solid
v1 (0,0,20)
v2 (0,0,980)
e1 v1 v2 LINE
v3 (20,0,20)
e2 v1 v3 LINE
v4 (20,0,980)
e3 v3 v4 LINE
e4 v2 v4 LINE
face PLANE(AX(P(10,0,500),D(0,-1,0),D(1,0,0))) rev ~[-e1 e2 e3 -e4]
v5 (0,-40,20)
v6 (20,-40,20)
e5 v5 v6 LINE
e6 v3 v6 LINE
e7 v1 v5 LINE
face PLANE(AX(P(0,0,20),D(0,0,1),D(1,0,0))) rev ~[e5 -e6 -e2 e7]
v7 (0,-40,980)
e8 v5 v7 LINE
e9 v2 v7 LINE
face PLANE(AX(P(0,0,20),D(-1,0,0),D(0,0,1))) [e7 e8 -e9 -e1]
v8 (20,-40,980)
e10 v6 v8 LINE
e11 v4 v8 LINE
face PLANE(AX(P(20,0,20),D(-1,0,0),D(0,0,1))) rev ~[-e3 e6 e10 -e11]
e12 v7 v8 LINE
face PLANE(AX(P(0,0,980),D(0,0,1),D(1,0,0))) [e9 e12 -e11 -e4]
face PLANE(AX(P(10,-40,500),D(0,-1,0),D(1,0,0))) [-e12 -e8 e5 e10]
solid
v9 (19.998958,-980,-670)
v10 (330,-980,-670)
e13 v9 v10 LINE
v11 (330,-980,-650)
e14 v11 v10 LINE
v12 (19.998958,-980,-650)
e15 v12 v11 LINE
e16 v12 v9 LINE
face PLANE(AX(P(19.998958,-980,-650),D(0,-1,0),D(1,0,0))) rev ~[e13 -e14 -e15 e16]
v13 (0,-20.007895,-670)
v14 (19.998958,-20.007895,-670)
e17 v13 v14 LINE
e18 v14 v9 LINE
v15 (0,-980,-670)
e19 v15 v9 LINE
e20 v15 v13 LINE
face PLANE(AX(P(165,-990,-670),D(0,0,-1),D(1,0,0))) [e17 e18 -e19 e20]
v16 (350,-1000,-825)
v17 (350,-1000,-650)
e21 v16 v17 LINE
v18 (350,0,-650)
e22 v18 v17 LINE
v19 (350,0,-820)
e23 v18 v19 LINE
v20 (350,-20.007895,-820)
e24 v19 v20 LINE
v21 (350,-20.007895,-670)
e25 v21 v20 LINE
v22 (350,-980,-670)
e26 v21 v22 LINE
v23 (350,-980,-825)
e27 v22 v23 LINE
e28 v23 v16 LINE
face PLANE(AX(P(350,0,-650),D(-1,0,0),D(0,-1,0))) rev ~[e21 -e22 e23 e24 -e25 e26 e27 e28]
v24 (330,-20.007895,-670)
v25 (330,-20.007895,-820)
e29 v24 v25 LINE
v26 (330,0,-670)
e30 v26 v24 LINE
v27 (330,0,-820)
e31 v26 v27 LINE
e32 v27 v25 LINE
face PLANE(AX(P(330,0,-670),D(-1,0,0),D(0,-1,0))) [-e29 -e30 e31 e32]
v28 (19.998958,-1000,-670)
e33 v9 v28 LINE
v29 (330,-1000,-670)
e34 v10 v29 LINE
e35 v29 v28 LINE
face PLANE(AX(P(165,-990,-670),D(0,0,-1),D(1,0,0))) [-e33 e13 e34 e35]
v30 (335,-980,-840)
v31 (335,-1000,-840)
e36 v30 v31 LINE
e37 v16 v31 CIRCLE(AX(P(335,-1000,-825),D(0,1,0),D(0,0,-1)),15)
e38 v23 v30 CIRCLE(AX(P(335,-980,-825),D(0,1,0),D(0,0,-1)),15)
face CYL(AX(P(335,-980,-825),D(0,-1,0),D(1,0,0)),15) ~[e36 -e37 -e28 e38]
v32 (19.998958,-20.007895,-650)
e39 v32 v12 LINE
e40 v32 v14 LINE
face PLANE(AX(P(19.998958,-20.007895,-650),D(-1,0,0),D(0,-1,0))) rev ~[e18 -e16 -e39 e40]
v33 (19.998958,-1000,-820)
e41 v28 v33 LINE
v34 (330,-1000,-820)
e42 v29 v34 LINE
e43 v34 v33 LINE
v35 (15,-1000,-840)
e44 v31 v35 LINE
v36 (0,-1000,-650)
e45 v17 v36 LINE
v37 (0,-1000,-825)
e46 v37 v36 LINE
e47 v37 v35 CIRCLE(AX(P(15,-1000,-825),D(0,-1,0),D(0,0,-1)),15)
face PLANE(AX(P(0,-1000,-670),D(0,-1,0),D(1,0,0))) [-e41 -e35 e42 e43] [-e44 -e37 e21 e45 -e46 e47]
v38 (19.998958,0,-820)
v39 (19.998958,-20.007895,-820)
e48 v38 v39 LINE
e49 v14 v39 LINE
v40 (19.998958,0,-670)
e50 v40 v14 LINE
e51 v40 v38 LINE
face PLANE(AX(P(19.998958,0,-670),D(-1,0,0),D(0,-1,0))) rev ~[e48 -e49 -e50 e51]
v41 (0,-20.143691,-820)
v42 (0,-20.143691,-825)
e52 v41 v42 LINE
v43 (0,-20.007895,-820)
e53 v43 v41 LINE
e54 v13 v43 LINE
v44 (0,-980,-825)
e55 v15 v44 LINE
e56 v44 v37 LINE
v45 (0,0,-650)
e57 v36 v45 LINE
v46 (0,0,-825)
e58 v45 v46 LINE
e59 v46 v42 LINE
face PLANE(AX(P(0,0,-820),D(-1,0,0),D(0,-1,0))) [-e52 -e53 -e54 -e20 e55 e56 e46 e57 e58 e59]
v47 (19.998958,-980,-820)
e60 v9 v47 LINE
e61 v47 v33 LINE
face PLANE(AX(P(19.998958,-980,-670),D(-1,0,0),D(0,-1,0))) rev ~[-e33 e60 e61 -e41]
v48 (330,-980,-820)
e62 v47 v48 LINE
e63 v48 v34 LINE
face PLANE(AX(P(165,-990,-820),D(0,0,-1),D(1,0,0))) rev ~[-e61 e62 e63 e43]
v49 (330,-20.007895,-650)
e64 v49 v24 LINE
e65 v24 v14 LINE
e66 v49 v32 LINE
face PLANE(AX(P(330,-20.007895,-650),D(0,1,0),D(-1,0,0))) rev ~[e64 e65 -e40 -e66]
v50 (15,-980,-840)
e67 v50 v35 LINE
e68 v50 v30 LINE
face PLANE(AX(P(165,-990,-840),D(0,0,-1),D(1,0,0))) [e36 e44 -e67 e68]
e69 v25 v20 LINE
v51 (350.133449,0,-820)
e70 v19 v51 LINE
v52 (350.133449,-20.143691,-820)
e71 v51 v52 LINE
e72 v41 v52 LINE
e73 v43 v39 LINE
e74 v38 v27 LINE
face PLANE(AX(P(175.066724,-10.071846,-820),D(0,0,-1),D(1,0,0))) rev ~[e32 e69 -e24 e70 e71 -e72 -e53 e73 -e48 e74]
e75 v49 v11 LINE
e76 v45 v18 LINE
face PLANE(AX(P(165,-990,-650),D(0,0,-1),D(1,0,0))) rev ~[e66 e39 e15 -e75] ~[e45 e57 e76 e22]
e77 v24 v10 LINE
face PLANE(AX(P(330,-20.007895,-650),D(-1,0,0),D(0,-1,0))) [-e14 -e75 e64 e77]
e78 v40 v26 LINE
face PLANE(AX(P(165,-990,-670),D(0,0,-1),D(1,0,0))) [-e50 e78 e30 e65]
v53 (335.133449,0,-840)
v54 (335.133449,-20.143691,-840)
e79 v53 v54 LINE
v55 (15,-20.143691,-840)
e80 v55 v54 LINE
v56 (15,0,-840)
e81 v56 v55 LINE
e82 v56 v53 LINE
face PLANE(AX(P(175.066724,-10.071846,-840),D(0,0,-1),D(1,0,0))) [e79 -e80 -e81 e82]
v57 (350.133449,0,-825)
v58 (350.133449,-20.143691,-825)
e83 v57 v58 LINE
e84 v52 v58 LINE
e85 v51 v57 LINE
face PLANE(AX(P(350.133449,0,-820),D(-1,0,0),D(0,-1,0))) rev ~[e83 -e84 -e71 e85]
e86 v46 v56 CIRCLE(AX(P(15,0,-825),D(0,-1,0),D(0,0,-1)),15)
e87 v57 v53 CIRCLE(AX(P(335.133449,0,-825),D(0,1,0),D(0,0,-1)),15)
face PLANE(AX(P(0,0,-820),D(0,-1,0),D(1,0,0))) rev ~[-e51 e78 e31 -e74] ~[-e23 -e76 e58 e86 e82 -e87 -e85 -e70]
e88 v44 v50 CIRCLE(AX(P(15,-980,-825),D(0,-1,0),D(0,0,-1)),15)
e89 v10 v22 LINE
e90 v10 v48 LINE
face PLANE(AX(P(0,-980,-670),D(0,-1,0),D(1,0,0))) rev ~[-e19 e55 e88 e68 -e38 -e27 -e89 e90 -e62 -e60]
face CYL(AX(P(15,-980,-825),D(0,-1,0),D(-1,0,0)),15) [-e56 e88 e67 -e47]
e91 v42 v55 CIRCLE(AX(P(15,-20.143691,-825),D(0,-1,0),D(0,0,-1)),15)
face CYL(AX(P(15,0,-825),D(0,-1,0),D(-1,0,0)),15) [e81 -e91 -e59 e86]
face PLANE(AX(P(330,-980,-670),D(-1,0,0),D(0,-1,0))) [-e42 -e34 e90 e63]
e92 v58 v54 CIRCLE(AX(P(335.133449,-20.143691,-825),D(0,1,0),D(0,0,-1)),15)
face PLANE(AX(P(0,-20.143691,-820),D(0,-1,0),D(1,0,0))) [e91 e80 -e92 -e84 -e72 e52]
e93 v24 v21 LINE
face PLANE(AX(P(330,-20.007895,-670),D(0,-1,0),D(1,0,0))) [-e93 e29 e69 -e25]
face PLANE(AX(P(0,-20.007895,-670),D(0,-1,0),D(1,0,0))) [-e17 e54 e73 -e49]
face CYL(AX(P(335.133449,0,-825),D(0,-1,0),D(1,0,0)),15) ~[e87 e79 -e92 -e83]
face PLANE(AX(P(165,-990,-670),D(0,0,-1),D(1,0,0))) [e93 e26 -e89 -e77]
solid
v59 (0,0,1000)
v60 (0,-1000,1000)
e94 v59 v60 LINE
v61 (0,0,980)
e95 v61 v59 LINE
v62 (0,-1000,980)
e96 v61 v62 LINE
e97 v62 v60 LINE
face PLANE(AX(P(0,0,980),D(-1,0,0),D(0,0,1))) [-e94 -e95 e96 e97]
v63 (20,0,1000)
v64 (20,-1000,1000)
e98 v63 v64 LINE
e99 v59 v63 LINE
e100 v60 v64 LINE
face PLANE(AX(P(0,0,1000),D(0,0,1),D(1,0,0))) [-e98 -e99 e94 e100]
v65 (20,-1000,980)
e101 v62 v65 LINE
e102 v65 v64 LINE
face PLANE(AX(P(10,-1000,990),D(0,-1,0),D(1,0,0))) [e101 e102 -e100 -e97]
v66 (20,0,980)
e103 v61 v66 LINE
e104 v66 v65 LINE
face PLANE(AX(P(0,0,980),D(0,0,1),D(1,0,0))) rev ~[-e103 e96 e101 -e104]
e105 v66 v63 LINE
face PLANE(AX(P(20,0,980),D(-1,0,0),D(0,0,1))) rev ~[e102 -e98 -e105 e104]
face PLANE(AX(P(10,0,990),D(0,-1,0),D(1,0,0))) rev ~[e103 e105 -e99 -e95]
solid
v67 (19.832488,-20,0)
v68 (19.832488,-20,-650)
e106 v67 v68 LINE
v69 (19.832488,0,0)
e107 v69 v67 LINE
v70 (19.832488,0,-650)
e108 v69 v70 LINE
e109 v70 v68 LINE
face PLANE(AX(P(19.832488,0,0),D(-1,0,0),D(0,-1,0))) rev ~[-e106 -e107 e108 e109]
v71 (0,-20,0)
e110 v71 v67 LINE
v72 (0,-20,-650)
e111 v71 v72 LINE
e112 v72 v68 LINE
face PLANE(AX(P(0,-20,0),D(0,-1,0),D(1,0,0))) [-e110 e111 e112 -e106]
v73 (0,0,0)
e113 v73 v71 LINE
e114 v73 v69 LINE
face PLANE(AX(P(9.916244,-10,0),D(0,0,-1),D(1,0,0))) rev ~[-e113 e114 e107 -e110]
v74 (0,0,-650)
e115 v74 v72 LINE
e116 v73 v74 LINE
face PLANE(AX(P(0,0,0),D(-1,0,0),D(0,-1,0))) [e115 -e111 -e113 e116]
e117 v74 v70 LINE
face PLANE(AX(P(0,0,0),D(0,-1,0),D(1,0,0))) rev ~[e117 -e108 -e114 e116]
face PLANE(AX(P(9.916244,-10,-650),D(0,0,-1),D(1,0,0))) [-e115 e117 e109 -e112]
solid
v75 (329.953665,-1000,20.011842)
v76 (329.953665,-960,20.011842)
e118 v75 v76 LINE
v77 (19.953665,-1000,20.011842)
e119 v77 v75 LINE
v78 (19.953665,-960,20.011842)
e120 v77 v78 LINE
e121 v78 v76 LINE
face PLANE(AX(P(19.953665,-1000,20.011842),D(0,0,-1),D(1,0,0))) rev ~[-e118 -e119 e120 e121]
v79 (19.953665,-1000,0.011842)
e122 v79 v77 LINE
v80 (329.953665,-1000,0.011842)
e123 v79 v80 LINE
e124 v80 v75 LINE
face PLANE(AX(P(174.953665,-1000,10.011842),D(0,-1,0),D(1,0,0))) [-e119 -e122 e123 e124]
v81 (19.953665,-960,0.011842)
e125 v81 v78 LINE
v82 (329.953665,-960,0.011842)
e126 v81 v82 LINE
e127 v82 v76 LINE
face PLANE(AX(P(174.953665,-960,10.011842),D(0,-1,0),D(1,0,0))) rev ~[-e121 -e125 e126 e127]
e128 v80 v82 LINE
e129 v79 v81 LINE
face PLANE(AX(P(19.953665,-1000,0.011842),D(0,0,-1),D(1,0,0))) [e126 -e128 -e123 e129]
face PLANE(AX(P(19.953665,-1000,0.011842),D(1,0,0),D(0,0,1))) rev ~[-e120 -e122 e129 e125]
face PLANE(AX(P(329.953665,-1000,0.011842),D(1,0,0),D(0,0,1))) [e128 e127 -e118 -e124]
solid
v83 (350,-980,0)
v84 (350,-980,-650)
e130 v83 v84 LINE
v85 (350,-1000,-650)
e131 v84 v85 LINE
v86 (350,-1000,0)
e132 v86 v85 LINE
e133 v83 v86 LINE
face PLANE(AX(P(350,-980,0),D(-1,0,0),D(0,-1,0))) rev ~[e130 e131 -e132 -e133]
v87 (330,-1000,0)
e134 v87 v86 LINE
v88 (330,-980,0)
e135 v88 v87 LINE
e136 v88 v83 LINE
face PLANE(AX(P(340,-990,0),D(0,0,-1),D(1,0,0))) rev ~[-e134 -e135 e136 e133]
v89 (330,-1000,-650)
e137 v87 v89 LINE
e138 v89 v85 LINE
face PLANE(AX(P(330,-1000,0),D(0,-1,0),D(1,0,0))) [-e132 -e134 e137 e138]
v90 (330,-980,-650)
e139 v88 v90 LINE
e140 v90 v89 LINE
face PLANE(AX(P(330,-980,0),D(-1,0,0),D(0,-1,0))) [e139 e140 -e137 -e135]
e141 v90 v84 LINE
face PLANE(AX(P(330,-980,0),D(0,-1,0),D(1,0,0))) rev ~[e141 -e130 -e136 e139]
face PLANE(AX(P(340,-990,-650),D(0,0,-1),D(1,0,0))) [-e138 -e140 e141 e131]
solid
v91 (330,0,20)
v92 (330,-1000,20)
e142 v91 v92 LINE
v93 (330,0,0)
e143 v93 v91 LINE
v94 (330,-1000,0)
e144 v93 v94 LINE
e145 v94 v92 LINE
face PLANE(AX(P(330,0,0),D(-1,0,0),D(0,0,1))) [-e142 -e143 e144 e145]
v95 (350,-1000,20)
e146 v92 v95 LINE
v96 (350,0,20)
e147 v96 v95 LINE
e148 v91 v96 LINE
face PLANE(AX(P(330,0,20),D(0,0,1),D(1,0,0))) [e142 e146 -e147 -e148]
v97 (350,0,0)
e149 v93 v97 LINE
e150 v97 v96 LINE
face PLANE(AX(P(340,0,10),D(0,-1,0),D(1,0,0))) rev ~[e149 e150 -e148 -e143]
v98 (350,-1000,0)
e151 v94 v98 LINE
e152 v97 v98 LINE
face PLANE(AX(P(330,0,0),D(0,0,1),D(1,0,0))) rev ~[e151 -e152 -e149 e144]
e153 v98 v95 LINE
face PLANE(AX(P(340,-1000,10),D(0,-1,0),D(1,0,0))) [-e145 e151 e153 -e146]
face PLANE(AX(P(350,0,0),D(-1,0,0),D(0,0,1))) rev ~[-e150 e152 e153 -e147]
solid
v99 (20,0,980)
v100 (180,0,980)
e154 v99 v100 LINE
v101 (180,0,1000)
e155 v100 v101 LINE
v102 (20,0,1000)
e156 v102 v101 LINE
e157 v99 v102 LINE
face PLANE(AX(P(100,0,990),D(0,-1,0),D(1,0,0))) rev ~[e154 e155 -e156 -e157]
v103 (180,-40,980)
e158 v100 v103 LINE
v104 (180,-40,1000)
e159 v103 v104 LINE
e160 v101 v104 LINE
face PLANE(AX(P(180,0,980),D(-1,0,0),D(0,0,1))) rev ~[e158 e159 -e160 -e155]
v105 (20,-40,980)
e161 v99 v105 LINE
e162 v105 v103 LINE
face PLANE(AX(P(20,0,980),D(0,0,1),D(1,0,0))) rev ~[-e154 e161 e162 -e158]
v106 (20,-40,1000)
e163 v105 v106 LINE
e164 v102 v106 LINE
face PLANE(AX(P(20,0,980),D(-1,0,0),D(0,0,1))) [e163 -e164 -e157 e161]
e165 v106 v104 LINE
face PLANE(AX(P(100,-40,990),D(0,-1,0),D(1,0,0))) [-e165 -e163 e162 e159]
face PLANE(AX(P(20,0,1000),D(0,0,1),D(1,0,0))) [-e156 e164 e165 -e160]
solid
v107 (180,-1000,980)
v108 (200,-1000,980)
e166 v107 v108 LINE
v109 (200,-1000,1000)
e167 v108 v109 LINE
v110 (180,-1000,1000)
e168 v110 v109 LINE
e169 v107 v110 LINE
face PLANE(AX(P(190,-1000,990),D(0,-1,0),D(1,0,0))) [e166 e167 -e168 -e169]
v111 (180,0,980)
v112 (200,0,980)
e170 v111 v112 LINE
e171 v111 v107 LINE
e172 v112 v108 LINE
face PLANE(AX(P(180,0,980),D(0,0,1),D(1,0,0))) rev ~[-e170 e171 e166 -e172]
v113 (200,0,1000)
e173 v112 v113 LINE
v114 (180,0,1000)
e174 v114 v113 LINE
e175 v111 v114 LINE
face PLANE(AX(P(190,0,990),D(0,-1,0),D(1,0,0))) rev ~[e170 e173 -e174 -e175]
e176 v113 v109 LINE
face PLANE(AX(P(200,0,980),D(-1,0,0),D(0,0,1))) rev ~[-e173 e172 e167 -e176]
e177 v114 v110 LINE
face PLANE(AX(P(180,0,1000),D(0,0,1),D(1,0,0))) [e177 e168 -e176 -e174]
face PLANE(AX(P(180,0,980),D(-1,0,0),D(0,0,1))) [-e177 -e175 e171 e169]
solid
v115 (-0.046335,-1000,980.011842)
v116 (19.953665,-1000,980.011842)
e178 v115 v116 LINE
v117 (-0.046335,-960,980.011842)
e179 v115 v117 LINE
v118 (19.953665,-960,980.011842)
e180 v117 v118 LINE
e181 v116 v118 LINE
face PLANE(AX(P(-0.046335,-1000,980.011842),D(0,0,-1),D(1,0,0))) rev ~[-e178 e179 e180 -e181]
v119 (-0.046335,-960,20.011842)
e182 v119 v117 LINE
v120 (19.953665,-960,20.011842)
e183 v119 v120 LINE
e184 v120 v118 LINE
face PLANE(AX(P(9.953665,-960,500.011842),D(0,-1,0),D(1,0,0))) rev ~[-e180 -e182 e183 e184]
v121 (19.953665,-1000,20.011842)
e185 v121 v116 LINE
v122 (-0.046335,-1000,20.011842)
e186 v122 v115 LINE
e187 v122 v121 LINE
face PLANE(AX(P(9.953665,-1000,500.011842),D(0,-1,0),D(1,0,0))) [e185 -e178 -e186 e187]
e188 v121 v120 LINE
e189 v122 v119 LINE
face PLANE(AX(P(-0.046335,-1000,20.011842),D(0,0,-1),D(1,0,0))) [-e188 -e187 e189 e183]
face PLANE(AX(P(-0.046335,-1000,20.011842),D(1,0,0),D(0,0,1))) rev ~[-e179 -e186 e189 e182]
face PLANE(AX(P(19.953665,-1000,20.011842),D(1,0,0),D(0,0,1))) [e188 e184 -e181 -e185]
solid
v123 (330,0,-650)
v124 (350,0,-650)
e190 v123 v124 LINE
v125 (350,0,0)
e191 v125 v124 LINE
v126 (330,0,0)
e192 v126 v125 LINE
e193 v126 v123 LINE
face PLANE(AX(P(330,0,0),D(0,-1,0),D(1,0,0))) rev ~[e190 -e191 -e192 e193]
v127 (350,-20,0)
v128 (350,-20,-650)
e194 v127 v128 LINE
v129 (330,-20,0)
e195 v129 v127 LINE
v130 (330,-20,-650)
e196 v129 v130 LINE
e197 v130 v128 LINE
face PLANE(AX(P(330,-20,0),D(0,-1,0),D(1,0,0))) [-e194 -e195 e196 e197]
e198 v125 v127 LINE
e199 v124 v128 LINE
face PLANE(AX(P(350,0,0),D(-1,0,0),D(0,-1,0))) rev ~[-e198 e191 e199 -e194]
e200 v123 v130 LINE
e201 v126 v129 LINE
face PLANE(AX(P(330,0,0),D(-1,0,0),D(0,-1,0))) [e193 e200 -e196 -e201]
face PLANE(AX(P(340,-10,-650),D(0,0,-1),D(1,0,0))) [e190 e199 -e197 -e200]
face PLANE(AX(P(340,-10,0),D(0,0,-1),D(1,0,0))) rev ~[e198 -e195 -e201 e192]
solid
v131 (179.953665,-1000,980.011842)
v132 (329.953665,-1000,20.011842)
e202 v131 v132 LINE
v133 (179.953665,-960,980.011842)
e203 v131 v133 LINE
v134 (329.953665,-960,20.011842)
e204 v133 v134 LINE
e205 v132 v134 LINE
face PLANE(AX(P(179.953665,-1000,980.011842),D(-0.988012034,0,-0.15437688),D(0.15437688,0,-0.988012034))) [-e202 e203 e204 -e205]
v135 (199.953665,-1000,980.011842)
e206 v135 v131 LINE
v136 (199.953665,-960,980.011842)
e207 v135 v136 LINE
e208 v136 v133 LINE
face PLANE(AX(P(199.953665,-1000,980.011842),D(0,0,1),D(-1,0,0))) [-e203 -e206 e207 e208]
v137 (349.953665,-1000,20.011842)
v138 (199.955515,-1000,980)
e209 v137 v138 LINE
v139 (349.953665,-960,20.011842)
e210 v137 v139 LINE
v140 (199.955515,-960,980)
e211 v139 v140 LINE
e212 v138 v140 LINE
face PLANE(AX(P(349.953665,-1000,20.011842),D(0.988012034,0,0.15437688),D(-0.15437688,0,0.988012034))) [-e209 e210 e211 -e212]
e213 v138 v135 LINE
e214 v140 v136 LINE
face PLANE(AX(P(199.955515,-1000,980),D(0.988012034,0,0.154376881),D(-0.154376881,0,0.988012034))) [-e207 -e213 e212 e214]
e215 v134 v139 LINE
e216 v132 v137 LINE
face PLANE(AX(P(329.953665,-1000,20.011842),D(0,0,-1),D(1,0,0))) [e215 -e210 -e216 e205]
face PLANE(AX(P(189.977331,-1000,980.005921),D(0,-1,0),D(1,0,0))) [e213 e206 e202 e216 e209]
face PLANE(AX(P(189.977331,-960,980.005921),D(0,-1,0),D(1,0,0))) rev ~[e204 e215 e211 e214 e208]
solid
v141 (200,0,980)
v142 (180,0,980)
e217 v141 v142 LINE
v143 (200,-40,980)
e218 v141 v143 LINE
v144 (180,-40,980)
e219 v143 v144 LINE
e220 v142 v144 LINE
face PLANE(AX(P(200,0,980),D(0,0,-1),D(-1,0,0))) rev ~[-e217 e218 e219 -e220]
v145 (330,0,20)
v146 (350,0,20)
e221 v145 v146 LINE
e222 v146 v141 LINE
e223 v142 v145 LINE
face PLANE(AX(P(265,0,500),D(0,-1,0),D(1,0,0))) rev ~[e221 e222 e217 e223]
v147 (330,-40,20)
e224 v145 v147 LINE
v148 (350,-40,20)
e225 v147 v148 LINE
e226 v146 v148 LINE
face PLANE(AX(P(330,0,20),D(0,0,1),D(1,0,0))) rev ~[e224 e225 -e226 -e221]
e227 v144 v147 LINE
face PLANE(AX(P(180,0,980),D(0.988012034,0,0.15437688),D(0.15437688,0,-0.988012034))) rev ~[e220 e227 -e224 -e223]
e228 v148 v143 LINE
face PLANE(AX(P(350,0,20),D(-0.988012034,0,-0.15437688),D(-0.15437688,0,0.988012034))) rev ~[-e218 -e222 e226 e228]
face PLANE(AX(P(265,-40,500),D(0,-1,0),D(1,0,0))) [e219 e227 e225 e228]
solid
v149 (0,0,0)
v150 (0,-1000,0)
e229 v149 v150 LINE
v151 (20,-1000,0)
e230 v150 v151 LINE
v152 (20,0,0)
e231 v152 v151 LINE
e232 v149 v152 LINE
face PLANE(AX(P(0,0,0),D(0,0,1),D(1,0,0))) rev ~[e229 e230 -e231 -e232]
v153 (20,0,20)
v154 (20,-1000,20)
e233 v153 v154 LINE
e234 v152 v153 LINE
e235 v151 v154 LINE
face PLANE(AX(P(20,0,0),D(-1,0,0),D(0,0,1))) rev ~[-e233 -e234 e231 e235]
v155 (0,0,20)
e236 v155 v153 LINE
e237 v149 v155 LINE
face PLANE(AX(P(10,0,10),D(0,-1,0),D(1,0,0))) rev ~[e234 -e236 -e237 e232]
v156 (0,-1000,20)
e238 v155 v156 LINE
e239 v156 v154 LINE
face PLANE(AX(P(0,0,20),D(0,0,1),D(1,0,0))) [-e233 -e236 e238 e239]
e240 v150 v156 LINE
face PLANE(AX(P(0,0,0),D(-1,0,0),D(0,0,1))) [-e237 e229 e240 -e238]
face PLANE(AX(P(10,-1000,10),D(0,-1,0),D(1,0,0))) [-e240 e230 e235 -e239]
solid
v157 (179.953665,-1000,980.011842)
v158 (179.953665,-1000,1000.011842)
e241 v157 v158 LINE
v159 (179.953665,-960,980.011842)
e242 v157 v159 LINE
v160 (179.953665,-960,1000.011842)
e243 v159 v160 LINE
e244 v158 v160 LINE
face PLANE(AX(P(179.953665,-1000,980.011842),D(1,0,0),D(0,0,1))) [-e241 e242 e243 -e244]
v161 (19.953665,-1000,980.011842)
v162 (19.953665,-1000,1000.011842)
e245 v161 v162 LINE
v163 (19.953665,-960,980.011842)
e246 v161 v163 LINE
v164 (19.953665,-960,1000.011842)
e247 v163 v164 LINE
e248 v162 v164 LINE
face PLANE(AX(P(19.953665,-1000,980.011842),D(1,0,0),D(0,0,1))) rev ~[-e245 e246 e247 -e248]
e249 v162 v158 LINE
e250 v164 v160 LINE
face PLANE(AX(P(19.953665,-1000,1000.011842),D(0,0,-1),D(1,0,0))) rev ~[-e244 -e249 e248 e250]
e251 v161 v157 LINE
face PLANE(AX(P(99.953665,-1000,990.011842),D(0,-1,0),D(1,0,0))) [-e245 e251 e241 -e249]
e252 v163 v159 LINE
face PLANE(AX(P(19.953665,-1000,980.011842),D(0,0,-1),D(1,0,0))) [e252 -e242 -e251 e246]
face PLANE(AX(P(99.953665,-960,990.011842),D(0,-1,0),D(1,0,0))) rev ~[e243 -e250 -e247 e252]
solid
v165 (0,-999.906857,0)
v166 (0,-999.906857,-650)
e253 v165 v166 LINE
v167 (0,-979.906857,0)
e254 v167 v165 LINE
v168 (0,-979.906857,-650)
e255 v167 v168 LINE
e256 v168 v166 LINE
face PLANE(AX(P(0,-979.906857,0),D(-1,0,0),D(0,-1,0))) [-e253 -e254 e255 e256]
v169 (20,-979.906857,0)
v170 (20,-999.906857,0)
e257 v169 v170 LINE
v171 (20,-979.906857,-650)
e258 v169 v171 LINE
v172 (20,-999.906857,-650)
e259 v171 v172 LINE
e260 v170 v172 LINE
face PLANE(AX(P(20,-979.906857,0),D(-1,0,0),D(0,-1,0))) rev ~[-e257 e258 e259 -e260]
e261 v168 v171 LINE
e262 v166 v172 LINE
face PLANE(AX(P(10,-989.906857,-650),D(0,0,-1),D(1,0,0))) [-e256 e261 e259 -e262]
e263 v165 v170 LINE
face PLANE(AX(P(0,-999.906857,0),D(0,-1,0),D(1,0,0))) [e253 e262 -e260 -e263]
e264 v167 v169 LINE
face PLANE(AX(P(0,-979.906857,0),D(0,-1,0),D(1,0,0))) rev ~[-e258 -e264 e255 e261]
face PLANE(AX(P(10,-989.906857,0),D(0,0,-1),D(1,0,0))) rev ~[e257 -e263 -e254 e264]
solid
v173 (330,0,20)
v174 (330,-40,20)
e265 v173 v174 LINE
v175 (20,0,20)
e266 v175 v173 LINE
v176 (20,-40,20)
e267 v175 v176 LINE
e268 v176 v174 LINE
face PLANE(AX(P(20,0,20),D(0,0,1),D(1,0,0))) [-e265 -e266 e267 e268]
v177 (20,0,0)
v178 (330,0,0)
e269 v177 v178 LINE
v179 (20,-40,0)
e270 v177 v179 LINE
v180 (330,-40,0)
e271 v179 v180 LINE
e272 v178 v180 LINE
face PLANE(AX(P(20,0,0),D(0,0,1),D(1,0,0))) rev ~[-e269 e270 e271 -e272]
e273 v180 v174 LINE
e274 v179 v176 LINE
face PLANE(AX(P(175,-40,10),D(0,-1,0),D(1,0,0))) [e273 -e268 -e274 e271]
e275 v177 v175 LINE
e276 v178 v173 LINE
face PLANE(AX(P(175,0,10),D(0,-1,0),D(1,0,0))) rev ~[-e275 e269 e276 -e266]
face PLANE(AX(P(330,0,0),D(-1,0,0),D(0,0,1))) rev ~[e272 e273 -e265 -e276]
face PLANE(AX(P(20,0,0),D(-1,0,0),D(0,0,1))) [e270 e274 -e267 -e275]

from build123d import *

# Parameters (mm, degrees)
F0_W      = 20
F0_H      = 20
F1_DEPTH  = 1000
F0_W_2    = 160
F3_DEPTH  = 40
F0_H_2    = 960
F0_W_3    = 310
F2_W      = 20
F2_H      = 960
F4_DEPTH  = 40
F2_W_2    = 160
F2_H_2    = 20
F2_W_3    = 310
F5_W      = 20
F5_H      = 20
F6_DEPTH  = 650
F5_W_2    = 19.8324881494
F7_W      = 20
F7_H      = 20
F7_H_2    = 959.9921046942
F7_W_2    = 19.9989583343
F8_DEPTH  = 20
F9_W      = 19.9989583343
F9_H      = 20
F9_W_2    = 20
F9_H_2    = 20.0078953058
F10_DEPTH = 150
F11_W     = 350.1334488392
F11_H     = 20.1436914504
F11_W_2   = 330
F11_H_2   = 20
F11_W_3   = 20
F12_DEPTH = 20
F13_R     = 15


with BuildPart() as f1:
    # F0 (on Front) → F1 (new body)
    with BuildSketch(Plane.XZ):
        with Locations((190, 990)):
            Rectangle(F0_W, F0_H)
    extrude(amount=F1_DEPTH)


with BuildPart() as f1b:
    # F0 (on Front) → F1, piece 2 (new body)
    with BuildSketch(Plane.XZ):
        with Locations((10, 990)):
            Rectangle(F0_W, F0_H)
    extrude(amount=F1_DEPTH)


with BuildPart() as f1c:
    # F0 (on Front) → F1, piece 3 (new body)
    with BuildSketch(Plane.XZ):
        with Locations((10, 10)):
            Rectangle(F0_W, F0_H)
    extrude(amount=F1_DEPTH)


with BuildPart() as f1d:
    # F0 (on Front) → F1, piece 4 (new body)
    with BuildSketch(Plane.XZ):
        with Locations((340, 10)):
            Rectangle(F0_W, F0_H)
    extrude(amount=F1_DEPTH)


with BuildPart() as f3:
    # F0 (on Front) → F3 (new body)
    with BuildSketch(Plane.XZ):
        with Locations((100, 990)):
            Rectangle(F0_W_2, F0_H)
    extrude(amount=F3_DEPTH)


with BuildPart() as f3b:
    # F0 (on Front) → F3, piece 2 (new body)
    with BuildSketch(Plane.XZ):
        Polygon((180, 980), (330, 20), (350, 20), (200, 980), align=None)
    extrude(amount=F3_DEPTH)


with BuildPart() as f3c:
    # F0 (on Front) → F3, piece 3 (new body)
    with BuildSketch(Plane.XZ):
        with Locations((10, 500)):
            Rectangle(F0_W, F0_H_2)
    extrude(amount=F3_DEPTH)


with BuildPart() as f3d:
    # F0 (on Front) → F3, piece 4 (new body)
    with BuildSketch(Plane.XZ):
        with Locations((175, 10)):
            Rectangle(F0_W_3, F0_H)
    extrude(amount=F3_DEPTH)


with BuildPart() as f4:
    # F2 (on face) → F4 (new body)
    with BuildSketch(Plane.XZ.offset(1000)):
        with Locations((9.9536648015, 500.0118422508)):
            Rectangle(F2_W, F2_H)
    extrude(amount=-F4_DEPTH)


with BuildPart() as f4b:
    # F2 (on face) → F4, piece 2 (new body)
    with BuildSketch(Plane.XZ.offset(1000)):
        with Locations((99.9536648015, 990.0118422508)):
            Rectangle(F2_W_2, F2_H_2)
    extrude(amount=-F4_DEPTH)


with BuildPart() as f4c:
    # F2 (on face) → F4, piece 3 (new body)
    with BuildSketch(Plane.XZ.offset(1000)):
        Polygon((180, 980), (199.9555151532, 980), (199.9536648015, 980.0118422508), (180, 980.0118422508), align=None)
        Polygon((179.9536648015, 980.0118422508), (329.9536648015, 20.0118422508), (349.9536648015, 20.0118422508), (199.9555151532, 980), (180, 980), (180, 980.0118422508), align=None)
    extrude(amount=-F4_DEPTH)


with BuildPart() as f4d:
    # F2 (on face) → F4, piece 4 (new body)
    with BuildSketch(Plane.XZ.offset(1000)):
        with Locations((174.9536648015, 10.0118422508)):
            Rectangle(F2_W_3, F2_H_2)
    extrude(amount=-F4_DEPTH)


with BuildPart() as f6:
    # F5 (on face) → F6 (new body)
    with BuildSketch(Plane(origin=(0, 0, 0), x_dir=(1, 0, 0), z_dir=(0, 0, -1))):
        with Locations((10, 989.9068570137)):
            Rectangle(F5_W, F5_H)
    extrude(amount=F6_DEPTH)


with BuildPart() as f6b:
    # F5 (on face) → F6, piece 2 (new body)
    with BuildSketch(Plane(origin=(0, 0, 0), x_dir=(1, 0, 0), z_dir=(0, 0, -1))):
        with Locations((340, 990)):
            Rectangle(F5_W, F5_H)
    extrude(amount=F6_DEPTH)


with BuildPart() as f6c:
    # F5 (on face) → F6, piece 3 (new body)
    with BuildSketch(Plane(origin=(0, 0, 0), x_dir=(1, 0, 0), z_dir=(0, 0, -1))):
        with Locations((340, 10)):
            Rectangle(F5_W, F5_H)
    extrude(amount=F6_DEPTH)


with BuildPart() as f6d:
    # F5 (on face) → F6, piece 4 (new body)
    with BuildSketch(Plane(origin=(0, 0, 0), x_dir=(1, 0, 0), z_dir=(0, 0, -1))):
        with Locations((9.9162440747, 10)):
            Rectangle(F5_W_2, F5_H)
    extrude(amount=F6_DEPTH)


with BuildPart() as f8:
    # F7 (on face) → F8 (new body)
    with BuildSketch(Plane(origin=(0, 0, -650), x_dir=(1, 0, 0), z_dir=(0, 0, -1))):
        Polygon((330, 980), (330, 1000), (0, 1000), (0, 980), (19.9989583343, 980), align=None)
        with Locations((340, 990)):
            Rectangle(F7_W, F7_H)
        with Locations((340, 500.0039476529)):
            Rectangle(F7_W, F7_H_2)
        with Locations((9.9994791672, 500.0039476529)):
            Rectangle(F7_W_2, F7_H_2)
        Polygon((350, 0), (350, 20.0078953058), (330, 20.0078953058), (19.9989583343, 20.0078953058), (0, 20.0078953058), (0, 0), align=None)
    extrude(amount=F8_DEPTH)

    # F9 (on face) → F10 (join)
    with BuildSketch(Plane(origin=(0, 0, -670), x_dir=(1, 0, 0), z_dir=(0, 0, -1))):
        with Locations((9.9994791672, 990)):
            Rectangle(F9_W, F9_H)
        with Locations((340, 990)):
            Rectangle(F9_W_2, F9_H)
        with Locations((340, 10.0039476529)):
            Rectangle(F9_W_2, F9_H_2)
        with Locations((9.9994791672, 10.0039476529)):
            Rectangle(F9_W, F9_H_2)
    extrude(amount=F10_DEPTH)

    # F11 (on face) → F12 (join)
    with BuildSketch(Plane(origin=(0, 0, -820), x_dir=(1, 0, 0), z_dir=(0, 0, -1))):
        with Locations((175.0667244196, 10.0718457252)):
            Rectangle(F11_W, F11_H)
        with Locations((165, 990)):
            Rectangle(F11_W_2, F11_H_2)
        with Locations((340, 990)):
            Rectangle(F11_W_3, F11_H_2)
    extrude(amount=F12_DEPTH)

    # F13
    f13_edges = [f8.edges().sort_by_distance(p)[0] for p in [
        (350, -990, -840),
        (0, -990, -840),
        (0, -10.071846, -840),
        (350.133449, -10.071846, -840),
    ]]
    fillet(f13_edges, radius=F13_R)


solid = Compound([f1.part, f1b.part, f1c.part, f1d.part, f3.part, f3b.part, f3c.part, f3d.part, f4.part, f4b.part, f4c.part, f4d.part, f6.part, f6b.part, f6c.part, f6d.part, f8.part])
